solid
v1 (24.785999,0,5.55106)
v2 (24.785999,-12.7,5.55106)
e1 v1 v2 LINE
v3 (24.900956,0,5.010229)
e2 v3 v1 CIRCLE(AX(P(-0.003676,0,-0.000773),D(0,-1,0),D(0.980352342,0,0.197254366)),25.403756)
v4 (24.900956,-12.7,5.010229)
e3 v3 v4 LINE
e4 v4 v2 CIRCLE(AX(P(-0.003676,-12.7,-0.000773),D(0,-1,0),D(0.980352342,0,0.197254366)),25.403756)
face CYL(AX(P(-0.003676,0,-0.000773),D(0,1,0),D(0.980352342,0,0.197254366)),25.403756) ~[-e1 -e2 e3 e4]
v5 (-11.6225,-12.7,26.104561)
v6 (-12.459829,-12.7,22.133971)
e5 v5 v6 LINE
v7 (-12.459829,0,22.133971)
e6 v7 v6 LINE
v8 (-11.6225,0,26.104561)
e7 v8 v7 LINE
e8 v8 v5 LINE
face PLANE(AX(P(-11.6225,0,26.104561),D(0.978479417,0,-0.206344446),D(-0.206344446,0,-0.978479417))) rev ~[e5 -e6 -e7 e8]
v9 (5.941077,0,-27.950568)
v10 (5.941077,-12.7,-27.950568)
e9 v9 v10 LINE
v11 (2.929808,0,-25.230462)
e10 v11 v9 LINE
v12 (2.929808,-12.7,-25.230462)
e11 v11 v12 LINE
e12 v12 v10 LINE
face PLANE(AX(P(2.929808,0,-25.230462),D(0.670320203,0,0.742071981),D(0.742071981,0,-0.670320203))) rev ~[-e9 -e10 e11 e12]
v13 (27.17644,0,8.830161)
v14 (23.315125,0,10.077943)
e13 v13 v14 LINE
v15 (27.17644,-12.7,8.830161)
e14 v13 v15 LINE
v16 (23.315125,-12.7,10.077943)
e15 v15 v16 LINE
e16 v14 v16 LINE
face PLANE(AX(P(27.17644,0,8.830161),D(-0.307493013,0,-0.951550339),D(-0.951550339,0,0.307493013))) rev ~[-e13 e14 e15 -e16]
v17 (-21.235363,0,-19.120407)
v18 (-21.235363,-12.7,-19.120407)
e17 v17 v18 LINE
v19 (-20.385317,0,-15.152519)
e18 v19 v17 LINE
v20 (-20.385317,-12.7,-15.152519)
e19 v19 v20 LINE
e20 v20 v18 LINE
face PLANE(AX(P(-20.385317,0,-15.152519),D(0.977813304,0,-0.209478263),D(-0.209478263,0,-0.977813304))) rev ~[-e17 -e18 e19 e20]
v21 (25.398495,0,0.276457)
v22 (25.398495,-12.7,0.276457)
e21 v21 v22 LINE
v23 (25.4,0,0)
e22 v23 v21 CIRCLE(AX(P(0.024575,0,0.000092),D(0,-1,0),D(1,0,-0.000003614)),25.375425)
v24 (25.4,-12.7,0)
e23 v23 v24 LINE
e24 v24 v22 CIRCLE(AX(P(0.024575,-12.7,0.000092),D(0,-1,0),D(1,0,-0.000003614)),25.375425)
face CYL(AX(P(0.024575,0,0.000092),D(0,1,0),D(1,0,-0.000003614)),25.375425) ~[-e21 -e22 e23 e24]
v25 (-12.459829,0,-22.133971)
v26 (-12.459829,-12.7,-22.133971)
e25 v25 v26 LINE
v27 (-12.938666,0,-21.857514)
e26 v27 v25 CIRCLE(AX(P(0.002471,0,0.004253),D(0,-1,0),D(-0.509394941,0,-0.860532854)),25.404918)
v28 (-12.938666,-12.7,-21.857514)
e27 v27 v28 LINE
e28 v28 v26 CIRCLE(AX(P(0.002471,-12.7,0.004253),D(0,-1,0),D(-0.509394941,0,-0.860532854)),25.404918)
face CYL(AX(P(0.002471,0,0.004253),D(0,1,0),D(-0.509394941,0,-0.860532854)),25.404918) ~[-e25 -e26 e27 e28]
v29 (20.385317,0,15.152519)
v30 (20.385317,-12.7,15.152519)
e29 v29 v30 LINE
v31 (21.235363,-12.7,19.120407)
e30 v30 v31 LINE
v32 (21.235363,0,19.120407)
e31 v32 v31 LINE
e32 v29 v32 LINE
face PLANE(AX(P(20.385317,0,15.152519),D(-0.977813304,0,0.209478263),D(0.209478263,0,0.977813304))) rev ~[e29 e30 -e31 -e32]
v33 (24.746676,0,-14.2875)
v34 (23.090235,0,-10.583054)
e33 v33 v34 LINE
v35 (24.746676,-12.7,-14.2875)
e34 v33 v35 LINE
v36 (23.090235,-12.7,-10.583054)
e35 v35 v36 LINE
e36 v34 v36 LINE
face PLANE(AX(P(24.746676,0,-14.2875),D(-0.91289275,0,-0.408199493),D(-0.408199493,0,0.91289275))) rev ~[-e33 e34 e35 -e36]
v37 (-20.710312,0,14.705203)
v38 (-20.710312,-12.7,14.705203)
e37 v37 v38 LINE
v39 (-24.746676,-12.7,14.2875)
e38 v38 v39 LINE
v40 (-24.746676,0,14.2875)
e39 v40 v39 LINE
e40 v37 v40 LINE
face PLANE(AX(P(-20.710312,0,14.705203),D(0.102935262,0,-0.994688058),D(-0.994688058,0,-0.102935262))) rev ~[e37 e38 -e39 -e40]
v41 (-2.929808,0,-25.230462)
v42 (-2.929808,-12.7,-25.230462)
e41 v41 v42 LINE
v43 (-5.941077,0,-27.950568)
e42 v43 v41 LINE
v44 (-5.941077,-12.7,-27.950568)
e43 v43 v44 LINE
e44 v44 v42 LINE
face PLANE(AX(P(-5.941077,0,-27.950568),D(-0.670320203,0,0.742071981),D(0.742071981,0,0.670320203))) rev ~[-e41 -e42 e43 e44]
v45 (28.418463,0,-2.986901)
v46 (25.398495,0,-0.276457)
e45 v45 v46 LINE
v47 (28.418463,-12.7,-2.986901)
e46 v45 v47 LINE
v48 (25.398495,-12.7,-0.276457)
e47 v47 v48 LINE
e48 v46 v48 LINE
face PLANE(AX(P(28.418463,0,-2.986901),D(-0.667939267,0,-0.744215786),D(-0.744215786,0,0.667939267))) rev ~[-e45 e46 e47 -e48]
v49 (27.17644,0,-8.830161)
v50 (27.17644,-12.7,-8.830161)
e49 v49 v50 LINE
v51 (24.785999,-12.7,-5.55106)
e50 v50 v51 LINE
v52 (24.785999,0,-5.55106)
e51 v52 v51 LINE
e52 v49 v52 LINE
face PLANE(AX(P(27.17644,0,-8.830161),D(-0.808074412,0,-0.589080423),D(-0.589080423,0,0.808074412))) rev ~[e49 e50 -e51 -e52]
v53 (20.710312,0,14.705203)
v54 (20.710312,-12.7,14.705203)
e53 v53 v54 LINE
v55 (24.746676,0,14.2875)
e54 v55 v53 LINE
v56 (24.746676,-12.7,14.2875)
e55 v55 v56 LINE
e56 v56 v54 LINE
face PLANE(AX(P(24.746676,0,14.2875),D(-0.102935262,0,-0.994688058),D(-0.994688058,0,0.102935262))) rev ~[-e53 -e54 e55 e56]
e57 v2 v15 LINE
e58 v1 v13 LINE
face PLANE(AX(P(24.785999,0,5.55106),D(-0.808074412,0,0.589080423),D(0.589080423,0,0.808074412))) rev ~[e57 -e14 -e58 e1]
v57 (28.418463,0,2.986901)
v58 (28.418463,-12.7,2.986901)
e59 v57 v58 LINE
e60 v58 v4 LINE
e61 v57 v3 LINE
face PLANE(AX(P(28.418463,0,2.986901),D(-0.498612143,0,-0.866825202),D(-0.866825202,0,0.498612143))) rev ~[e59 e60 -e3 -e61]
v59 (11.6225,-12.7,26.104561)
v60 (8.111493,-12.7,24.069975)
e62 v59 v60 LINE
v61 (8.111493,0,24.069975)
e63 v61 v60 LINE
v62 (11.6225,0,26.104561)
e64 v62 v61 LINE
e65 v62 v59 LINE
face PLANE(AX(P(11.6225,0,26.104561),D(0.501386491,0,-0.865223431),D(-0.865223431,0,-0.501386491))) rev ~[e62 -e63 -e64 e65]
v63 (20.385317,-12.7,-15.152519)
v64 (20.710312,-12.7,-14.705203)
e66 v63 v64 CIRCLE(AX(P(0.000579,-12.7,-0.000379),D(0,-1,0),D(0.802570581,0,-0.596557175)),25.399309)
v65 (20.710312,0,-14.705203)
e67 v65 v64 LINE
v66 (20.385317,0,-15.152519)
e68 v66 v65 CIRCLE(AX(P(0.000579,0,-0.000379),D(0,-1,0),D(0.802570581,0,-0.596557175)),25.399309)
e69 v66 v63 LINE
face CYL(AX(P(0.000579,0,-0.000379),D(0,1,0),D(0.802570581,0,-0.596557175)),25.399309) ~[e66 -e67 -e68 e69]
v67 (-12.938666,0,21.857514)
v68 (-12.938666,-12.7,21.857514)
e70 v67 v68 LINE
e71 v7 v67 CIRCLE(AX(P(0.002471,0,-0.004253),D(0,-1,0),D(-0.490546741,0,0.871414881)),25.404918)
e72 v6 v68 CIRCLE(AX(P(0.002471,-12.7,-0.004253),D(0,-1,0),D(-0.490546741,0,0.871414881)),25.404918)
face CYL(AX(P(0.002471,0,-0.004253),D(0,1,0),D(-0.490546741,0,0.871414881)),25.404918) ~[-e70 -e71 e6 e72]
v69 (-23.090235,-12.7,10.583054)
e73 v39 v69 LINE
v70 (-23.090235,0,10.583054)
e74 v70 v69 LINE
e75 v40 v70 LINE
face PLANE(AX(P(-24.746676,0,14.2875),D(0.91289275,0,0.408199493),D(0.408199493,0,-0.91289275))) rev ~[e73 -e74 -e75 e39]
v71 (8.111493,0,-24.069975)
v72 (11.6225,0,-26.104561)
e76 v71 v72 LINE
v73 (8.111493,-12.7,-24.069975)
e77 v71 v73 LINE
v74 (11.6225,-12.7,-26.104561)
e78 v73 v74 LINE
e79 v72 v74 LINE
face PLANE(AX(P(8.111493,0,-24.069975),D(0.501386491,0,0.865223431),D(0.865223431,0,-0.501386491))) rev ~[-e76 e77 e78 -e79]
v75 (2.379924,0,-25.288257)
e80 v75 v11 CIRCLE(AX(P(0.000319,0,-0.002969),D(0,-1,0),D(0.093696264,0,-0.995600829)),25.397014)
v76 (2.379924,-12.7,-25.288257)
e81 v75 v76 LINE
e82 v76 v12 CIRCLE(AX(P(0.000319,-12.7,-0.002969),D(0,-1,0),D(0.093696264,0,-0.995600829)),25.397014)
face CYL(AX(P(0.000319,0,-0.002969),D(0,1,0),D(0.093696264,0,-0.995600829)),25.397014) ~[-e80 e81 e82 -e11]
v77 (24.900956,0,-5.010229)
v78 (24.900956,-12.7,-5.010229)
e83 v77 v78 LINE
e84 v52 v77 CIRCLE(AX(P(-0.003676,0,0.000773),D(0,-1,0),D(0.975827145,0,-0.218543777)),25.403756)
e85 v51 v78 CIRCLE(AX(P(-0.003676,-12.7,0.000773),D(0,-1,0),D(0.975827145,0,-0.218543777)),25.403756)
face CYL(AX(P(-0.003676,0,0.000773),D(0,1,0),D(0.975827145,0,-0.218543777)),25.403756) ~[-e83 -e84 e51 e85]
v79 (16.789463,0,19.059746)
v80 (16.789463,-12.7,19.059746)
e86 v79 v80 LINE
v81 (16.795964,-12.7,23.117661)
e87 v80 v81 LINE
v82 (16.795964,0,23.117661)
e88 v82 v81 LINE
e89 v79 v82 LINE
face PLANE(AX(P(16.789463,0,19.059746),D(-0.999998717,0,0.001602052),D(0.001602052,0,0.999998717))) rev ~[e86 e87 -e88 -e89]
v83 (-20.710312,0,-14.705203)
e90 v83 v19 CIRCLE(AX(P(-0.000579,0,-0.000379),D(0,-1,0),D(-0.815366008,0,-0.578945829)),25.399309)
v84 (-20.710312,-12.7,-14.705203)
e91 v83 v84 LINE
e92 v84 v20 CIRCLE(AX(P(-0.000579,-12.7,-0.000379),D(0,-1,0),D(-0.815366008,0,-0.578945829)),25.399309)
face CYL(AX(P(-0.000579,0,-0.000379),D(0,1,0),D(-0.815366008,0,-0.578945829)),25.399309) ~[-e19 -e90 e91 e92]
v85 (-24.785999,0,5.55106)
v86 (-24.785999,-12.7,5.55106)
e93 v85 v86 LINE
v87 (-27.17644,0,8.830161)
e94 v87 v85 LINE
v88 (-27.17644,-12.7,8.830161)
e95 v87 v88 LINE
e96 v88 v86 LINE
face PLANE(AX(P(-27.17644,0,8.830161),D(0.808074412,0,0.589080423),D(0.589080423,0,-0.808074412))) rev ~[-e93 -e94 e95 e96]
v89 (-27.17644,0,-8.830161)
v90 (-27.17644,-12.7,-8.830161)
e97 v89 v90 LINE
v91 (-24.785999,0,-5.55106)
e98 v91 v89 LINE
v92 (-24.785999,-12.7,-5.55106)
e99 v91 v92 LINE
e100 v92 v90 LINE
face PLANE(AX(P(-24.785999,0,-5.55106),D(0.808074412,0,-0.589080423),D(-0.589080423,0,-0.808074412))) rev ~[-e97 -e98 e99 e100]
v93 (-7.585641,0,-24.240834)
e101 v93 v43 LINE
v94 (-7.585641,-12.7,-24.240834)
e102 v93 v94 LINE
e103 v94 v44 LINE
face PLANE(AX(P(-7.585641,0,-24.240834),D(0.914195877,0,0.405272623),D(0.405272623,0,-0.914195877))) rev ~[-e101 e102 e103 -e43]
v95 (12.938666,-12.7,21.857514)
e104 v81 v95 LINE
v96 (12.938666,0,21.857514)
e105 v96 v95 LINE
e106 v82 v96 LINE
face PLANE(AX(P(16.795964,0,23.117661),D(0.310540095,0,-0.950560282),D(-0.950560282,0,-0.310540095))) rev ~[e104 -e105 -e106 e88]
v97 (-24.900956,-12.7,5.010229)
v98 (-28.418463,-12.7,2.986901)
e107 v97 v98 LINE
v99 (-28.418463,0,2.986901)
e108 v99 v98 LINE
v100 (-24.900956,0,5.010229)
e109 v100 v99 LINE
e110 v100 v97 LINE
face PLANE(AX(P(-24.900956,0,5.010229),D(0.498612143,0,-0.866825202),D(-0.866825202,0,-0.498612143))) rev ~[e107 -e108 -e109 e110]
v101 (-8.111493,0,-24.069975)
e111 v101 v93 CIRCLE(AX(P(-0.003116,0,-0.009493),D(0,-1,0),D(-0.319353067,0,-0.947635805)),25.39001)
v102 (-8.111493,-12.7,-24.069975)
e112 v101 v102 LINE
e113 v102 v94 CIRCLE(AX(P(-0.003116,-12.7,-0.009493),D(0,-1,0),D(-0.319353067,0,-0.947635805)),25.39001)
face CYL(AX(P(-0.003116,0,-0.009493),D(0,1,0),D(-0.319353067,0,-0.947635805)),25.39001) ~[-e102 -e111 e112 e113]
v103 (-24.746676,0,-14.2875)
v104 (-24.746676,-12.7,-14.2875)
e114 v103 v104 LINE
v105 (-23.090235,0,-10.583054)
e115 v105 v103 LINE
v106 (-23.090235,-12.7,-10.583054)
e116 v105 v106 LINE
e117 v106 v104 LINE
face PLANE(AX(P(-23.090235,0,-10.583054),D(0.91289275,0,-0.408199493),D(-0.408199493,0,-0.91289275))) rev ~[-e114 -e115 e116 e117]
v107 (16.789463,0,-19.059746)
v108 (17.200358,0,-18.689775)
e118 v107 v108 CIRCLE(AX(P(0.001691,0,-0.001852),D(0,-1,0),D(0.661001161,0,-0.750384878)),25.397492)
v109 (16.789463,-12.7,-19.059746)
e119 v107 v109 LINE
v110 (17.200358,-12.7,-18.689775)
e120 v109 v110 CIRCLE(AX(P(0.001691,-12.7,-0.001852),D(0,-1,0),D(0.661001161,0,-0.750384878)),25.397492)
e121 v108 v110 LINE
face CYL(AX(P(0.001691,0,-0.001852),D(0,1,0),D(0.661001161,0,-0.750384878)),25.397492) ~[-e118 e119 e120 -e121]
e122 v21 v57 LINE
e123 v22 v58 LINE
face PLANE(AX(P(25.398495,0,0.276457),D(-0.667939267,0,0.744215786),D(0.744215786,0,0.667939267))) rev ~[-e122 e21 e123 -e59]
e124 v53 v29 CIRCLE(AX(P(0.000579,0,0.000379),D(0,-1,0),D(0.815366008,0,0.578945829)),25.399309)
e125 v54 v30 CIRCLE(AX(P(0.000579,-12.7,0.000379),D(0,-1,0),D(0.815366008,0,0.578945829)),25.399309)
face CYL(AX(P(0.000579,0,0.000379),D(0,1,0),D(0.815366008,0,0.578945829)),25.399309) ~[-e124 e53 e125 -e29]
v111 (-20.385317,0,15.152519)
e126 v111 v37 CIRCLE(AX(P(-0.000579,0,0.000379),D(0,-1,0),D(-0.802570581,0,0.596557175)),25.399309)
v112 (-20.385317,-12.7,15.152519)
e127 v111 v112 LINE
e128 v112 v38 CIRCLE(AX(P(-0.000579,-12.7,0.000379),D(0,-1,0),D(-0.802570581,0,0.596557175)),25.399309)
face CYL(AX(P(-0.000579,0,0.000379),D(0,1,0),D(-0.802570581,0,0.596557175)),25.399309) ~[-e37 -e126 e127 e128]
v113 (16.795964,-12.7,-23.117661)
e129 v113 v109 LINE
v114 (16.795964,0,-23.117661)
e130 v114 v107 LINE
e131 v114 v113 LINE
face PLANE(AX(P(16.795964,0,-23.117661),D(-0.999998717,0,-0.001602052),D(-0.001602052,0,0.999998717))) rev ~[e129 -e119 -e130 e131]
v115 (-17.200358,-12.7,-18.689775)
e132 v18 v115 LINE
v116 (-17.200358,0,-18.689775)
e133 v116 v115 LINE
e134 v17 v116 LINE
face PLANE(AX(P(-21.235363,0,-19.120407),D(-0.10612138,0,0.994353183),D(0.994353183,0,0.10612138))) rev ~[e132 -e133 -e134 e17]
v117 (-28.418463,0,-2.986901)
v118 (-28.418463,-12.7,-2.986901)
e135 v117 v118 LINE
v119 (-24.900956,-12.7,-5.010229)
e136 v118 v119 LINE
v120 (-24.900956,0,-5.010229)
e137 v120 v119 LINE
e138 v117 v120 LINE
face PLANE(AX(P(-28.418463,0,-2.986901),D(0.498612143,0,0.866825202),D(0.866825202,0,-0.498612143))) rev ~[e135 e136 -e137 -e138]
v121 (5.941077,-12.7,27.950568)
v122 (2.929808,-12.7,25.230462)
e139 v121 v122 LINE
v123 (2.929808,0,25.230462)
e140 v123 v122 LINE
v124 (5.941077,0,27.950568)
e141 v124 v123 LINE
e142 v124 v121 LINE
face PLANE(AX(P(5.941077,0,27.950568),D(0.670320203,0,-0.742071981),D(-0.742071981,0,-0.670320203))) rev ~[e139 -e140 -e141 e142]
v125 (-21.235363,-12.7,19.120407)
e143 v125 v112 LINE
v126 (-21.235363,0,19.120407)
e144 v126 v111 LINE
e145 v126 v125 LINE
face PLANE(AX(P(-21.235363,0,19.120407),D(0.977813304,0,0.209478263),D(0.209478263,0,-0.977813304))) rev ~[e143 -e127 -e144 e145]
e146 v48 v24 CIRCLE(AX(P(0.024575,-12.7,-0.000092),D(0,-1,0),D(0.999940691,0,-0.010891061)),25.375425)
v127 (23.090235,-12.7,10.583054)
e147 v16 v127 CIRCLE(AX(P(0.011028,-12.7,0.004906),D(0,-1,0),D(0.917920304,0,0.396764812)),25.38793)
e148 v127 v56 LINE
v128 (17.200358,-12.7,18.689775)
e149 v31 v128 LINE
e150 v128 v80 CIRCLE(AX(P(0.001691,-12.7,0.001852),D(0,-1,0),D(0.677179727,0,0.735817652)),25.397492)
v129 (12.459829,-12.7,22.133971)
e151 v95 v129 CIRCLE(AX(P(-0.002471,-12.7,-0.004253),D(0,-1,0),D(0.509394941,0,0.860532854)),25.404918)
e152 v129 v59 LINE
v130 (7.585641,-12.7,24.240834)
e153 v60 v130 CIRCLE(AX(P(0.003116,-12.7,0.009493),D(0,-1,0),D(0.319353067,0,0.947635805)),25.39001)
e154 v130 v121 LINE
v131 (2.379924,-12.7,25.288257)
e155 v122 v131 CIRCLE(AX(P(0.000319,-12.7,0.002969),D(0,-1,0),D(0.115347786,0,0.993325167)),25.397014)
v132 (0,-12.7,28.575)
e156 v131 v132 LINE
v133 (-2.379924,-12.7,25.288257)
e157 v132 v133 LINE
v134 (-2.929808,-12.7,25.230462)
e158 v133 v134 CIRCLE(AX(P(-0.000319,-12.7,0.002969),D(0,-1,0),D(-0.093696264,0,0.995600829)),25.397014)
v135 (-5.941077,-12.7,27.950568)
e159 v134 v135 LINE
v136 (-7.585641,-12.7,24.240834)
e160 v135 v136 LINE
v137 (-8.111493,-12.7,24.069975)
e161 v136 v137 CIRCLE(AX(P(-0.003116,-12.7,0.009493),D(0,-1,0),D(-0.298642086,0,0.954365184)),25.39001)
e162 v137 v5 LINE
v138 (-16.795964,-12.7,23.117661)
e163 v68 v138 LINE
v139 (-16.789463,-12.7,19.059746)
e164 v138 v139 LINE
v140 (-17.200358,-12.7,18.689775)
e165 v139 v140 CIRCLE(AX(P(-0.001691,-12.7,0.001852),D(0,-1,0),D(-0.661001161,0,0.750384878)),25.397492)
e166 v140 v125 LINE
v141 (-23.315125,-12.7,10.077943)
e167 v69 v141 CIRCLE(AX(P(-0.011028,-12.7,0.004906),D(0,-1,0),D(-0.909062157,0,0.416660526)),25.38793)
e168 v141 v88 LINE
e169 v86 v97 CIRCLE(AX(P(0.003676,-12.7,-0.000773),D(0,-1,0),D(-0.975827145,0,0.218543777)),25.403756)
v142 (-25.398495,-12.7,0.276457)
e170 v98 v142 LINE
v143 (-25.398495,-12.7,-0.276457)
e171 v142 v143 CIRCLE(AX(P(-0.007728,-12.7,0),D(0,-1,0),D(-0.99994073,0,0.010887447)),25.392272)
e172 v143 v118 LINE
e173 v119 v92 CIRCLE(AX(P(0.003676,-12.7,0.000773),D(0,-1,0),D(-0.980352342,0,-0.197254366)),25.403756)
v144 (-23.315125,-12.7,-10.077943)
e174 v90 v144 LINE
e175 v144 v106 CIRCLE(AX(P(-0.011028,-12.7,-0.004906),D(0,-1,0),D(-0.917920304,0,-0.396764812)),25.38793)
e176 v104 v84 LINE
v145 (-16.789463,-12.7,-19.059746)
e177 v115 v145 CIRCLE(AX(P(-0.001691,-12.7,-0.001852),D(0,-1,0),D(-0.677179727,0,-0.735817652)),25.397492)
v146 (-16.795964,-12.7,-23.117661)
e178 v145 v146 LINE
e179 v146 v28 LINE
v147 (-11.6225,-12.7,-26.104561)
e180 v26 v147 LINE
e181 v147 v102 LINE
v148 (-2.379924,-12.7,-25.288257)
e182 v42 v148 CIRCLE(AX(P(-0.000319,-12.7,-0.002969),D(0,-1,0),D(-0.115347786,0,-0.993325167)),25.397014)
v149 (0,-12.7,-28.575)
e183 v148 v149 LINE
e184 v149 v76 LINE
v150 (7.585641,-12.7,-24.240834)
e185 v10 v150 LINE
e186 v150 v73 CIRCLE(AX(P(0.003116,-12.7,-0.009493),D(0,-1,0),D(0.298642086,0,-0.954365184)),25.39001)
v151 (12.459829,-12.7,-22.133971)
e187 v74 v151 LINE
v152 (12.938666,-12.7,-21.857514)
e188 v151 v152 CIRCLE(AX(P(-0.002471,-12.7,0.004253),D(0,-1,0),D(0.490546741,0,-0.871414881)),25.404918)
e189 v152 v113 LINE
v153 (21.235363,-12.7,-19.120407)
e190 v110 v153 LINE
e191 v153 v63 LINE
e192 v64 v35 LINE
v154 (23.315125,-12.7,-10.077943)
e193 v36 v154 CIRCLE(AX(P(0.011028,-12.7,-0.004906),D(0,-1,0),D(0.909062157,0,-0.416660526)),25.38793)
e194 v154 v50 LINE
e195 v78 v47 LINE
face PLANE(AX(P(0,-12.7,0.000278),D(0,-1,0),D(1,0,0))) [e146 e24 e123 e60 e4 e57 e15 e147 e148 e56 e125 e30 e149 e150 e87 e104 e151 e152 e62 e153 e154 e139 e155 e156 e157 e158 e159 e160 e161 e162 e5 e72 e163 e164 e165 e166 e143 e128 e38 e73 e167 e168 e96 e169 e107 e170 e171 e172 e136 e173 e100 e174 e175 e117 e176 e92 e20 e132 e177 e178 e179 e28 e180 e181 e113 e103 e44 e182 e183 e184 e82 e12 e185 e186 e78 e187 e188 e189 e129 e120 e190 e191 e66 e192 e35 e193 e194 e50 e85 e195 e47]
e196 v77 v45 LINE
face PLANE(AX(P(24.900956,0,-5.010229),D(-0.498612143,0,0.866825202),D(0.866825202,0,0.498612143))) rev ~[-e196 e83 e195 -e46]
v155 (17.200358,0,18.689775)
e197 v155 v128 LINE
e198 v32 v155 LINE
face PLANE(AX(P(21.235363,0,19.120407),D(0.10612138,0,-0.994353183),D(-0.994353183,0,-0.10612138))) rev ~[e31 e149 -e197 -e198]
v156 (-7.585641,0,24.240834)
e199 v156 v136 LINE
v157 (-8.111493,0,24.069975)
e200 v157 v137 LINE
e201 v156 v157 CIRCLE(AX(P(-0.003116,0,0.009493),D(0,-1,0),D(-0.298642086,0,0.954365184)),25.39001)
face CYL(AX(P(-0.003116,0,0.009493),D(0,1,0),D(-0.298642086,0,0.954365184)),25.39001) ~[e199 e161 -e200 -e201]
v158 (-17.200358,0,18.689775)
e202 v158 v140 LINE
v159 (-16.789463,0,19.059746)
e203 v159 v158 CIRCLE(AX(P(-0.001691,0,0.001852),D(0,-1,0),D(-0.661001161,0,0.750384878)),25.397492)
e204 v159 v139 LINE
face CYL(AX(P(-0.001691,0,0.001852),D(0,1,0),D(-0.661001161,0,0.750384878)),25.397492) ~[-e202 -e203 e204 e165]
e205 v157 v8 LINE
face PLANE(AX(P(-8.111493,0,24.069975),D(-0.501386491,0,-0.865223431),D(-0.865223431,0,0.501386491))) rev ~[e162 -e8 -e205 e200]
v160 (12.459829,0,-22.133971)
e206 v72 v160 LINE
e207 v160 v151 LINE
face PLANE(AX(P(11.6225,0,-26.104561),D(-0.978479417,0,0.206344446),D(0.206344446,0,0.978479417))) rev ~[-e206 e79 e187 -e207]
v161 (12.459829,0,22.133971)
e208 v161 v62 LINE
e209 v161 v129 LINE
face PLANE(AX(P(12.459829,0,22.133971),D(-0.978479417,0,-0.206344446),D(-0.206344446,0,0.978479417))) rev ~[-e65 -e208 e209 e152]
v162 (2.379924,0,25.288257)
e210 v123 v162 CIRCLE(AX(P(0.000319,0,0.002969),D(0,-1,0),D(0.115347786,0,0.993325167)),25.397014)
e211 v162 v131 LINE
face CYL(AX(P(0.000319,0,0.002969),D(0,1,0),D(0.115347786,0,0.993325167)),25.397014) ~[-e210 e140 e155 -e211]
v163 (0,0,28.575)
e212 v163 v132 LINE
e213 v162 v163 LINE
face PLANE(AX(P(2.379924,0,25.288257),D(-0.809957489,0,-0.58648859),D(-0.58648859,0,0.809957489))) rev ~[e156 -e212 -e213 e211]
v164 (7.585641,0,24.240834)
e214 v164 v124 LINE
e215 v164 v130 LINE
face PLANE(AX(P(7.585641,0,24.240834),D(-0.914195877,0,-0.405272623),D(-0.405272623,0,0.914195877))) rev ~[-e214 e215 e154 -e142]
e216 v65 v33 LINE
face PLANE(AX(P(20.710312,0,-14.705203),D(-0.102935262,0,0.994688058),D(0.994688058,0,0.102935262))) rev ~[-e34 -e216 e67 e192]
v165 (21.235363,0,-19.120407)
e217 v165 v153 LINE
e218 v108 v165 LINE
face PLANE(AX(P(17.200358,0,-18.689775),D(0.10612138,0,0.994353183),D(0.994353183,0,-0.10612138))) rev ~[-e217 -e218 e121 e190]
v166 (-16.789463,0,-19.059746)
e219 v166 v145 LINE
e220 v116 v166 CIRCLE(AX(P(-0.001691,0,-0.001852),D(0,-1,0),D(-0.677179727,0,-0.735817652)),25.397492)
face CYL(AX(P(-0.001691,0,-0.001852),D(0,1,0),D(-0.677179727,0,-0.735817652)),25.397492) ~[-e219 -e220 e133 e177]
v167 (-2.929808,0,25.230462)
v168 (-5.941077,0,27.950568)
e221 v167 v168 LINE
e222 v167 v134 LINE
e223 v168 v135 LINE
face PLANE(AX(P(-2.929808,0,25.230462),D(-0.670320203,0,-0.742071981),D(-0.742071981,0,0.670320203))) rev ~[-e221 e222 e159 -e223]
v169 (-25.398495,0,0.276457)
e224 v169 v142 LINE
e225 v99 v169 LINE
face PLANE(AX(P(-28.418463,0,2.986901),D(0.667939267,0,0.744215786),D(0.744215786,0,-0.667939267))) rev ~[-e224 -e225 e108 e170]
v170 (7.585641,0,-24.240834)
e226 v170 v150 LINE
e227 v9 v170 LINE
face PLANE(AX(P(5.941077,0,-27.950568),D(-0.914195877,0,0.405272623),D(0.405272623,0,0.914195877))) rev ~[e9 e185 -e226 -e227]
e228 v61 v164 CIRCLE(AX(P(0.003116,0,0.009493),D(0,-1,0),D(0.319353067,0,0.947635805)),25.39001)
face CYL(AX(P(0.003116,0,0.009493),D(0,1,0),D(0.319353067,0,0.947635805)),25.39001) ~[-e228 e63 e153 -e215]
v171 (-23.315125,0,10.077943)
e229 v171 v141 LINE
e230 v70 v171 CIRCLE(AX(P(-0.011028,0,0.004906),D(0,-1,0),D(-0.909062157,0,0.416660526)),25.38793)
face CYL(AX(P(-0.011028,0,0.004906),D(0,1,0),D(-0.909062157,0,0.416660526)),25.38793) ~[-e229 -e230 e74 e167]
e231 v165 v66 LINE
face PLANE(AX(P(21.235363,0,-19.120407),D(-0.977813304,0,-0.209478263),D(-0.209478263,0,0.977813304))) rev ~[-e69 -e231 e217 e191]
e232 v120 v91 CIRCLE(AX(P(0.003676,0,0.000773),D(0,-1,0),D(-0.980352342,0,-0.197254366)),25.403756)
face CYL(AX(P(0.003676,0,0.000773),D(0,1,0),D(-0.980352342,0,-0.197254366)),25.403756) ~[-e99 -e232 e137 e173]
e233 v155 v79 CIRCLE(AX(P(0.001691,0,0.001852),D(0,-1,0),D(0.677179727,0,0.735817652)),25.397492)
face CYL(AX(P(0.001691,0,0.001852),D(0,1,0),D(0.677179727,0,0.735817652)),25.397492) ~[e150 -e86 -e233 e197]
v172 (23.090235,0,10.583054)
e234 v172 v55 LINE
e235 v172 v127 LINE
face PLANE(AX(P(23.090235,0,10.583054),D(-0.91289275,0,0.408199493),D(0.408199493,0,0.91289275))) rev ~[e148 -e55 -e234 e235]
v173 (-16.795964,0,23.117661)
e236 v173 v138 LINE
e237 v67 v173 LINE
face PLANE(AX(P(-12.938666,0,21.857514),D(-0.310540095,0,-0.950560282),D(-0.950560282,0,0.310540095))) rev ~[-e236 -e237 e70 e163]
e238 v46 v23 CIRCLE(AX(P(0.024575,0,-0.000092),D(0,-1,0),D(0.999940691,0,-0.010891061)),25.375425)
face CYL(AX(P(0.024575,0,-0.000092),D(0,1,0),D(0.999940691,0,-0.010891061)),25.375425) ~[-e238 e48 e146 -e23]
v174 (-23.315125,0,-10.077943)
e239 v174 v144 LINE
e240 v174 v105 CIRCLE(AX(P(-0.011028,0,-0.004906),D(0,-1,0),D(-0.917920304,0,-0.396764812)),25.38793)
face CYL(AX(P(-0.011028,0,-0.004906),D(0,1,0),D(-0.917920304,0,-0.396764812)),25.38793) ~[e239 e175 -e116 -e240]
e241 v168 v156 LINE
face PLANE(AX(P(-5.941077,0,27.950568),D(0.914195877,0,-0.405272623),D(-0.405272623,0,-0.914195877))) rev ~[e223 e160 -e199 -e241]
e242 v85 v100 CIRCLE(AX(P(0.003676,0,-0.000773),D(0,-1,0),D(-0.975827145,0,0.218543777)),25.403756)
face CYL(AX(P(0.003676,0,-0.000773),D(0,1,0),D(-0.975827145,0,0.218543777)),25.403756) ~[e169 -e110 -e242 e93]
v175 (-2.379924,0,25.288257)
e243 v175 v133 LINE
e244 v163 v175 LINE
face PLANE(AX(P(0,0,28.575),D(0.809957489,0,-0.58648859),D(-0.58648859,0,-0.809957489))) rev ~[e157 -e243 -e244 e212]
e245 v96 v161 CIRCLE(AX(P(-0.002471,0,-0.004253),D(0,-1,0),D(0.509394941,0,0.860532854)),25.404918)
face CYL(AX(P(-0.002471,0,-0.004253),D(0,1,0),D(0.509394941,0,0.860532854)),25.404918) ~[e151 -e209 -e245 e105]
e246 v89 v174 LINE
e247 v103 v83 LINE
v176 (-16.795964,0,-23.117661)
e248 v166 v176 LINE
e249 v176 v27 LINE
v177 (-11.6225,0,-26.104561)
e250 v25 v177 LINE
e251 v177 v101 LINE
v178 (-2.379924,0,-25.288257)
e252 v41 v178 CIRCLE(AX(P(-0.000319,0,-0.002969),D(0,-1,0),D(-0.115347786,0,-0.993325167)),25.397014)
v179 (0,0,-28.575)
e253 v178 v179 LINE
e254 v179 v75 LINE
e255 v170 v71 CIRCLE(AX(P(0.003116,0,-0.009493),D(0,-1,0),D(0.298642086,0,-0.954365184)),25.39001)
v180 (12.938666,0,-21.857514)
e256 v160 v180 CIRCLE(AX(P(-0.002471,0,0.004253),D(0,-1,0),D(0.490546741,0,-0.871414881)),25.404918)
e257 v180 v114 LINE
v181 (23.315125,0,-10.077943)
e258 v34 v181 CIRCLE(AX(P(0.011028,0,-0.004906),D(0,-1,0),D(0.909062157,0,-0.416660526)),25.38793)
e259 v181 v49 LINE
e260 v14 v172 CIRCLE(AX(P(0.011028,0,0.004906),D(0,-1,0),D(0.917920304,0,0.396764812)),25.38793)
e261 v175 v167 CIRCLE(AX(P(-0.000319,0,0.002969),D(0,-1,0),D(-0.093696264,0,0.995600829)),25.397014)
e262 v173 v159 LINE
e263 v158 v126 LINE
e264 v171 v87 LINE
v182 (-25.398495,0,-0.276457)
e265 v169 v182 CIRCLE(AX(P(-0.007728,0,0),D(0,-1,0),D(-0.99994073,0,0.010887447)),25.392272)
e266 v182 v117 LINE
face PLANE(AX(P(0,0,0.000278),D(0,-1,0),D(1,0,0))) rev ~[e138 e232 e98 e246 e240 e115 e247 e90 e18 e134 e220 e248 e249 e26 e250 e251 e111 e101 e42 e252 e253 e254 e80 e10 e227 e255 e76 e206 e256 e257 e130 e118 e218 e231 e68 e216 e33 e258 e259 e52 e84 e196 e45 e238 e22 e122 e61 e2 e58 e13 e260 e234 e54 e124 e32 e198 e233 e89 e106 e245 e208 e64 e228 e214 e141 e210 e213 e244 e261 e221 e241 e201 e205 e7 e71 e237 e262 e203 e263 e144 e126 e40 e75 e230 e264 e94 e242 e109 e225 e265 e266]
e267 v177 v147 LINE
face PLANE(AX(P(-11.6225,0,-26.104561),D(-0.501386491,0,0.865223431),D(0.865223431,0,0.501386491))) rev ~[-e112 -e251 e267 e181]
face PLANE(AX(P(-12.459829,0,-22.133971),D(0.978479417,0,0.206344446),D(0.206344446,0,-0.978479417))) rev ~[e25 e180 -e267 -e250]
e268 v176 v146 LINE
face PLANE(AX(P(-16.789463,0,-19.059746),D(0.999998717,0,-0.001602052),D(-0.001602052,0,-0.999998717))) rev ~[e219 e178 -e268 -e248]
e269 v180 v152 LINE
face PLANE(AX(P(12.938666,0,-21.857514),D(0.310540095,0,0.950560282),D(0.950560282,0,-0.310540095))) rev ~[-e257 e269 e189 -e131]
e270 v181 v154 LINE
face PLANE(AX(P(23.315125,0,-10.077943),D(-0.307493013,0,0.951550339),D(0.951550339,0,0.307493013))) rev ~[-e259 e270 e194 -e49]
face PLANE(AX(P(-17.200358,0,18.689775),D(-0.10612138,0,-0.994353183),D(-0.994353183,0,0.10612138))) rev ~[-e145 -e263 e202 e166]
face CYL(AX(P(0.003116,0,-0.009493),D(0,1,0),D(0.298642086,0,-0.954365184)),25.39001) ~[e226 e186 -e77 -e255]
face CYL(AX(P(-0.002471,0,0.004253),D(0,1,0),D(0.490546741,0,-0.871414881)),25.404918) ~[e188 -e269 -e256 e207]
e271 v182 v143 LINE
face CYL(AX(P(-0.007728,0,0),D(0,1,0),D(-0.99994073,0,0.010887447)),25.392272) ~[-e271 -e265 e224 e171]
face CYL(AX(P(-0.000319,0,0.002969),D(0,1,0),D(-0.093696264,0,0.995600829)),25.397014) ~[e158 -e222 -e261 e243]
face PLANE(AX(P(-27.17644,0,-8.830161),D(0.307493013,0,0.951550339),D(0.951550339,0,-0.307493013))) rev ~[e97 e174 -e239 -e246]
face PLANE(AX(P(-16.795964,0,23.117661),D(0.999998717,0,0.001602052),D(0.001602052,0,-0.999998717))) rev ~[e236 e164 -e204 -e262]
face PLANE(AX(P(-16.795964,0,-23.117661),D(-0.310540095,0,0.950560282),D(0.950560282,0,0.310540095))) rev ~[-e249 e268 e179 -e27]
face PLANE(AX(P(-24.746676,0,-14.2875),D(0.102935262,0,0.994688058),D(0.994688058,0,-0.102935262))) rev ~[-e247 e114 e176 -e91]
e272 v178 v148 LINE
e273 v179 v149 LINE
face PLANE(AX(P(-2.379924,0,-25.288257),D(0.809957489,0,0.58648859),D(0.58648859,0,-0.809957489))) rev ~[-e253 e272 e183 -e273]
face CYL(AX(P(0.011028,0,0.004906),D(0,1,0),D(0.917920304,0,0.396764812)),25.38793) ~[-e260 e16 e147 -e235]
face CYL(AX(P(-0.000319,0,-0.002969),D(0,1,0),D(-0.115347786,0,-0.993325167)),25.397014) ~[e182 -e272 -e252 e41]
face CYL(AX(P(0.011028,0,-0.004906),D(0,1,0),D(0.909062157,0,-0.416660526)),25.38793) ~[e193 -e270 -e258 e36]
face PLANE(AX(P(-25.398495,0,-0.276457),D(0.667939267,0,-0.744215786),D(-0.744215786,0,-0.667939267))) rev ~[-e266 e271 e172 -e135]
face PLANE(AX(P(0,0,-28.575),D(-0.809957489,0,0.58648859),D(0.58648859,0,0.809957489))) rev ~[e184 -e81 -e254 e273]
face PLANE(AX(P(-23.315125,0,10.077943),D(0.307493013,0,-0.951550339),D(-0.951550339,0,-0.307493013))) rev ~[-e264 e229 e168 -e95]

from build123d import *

# Parameters (mm, degrees)
F1_DEPTH = 12.7


with BuildPart() as f1:
    # F0 (on Front) → F1 (new body)
    with BuildSketch(Plane.XZ):
        with BuildLine():
            ThreePointArc((25.398495, -0.276457), (25.399624, -0.13823), (25.4, 0))
            ThreePointArc((25.4, 0), (25.399624, 0.13823), (25.398495, 0.276457))
            ThreePointArc((25.398495, 0.276457), (25.260856, 2.655023), (24.900956, 5.010229))
            ThreePointArc((24.900956, 5.010229), (24.844949, 5.280957), (24.785999, 5.55106))
            ThreePointArc((24.785999, 5.55106), (24.156836, 7.849032), (23.315125, 10.077943))
            ThreePointArc((23.315125, 10.077943), (23.204055, 10.331111), (23.090235, 10.583054))
            ThreePointArc((23.090235, 10.583054), (21.997045, 12.7), (20.710312, 14.705203))
            ThreePointArc((20.710312, 14.705203), (20.549032, 14.929745), (20.385317, 15.152519))
            ThreePointArc((20.385317, 15.152519), (18.875879, 16.995917), (17.200358, 18.689775))
            ThreePointArc((17.200358, 18.689775), (16.995917, 18.875879), (16.789463, 19.059746))
            ThreePointArc((16.789463, 19.059746), (14.929745, 20.549032), (12.938666, 21.857514))
            ThreePointArc((12.938666, 21.857514), (12.7, 21.997045), (12.459829, 22.133971))
            ThreePointArc((12.459829, 22.133971), (10.331111, 23.204055), (8.111493, 24.069975))
            ThreePointArc((8.111493, 24.069975), (7.849032, 24.156836), (7.585641, 24.240834))
            ThreePointArc((7.585641, 24.240834), (5.280957, 24.844949), (2.929808, 25.230462))
            ThreePointArc((2.929808, 25.230462), (2.655023, 25.260856), (2.379924, 25.288257))
            ThreePointArc((2.379924, 25.288257), (1.191273, 25.372049), (0, 25.4))
            ThreePointArc((0, 25.4), (-1.191273, 25.372049), (-2.379924, 25.288257))
            ThreePointArc((-2.379924, 25.288257), (-2.655023, 25.260856), (-2.929808, 25.230462))
            ThreePointArc((-2.929808, 25.230462), (-5.280957, 24.844949), (-7.585641, 24.240834))
            ThreePointArc((-7.585641, 24.240834), (-7.849032, 24.156836), (-8.111493, 24.069975))
            ThreePointArc((-8.111493, 24.069975), (-10.331111, 23.204055), (-12.459829, 22.133971))
            ThreePointArc((-12.459829, 22.133971), (-12.7, 21.997045), (-12.938666, 21.857514))
            ThreePointArc((-12.938666, 21.857514), (-14.929745, 20.549032), (-16.789463, 19.059746))
            ThreePointArc((-16.789463, 19.059746), (-16.995917, 18.875879), (-17.200358, 18.689775))
            ThreePointArc((-17.200358, 18.689775), (-18.875879, 16.995917), (-20.385317, 15.152519))
            ThreePointArc((-20.385317, 15.152519), (-20.549032, 14.929745), (-20.710312, 14.705203))
            ThreePointArc((-20.710312, 14.705203), (-21.997045, 12.7), (-23.090235, 10.583054))
            ThreePointArc((-23.090235, 10.583054), (-23.204055, 10.331111), (-23.315125, 10.077943))
            ThreePointArc((-23.315125, 10.077943), (-24.156836, 7.849032), (-24.785999, 5.55106))
            ThreePointArc((-24.785999, 5.55106), (-24.844949, 5.280957), (-24.900956, 5.010229))
            ThreePointArc((-24.900956, 5.010229), (-25.260856, 2.655023), (-25.398495, 0.276457))
            ThreePointArc((-25.398495, 0.276457), (-25.4, 0), (-25.398495, -0.276457))
            ThreePointArc((-25.398495, -0.276457), (-25.260856, -2.655023), (-24.900956, -5.010229))
            ThreePointArc((-24.900956, -5.010229), (-24.844949, -5.280957), (-24.785999, -5.55106))
            ThreePointArc((-24.785999, -5.55106), (-24.156836, -7.849032), (-23.315125, -10.077943))
            ThreePointArc((-23.315125, -10.077943), (-23.204055, -10.331111), (-23.090235, -10.583054))
            ThreePointArc((-23.090235, -10.583054), (-21.997045, -12.7), (-20.710312, -14.705203))
            ThreePointArc((-20.710312, -14.705203), (-20.549032, -14.929745), (-20.385317, -15.152519))
            ThreePointArc((-20.385317, -15.152519), (-18.875879, -16.995917), (-17.200358, -18.689775))
            ThreePointArc((-17.200358, -18.689775), (-16.995917, -18.875879), (-16.789463, -19.059746))
            ThreePointArc((-16.789463, -19.059746), (-14.929745, -20.549032), (-12.938666, -21.857514))
            ThreePointArc((-12.938666, -21.857514), (-12.7, -21.997045), (-12.459829, -22.133971))
            ThreePointArc((-12.459829, -22.133971), (-10.331111, -23.204055), (-8.111493, -24.069975))
            ThreePointArc((-8.111493, -24.069975), (-7.849032, -24.156836), (-7.585641, -24.240834))
            ThreePointArc((-7.585641, -24.240834), (-5.280957, -24.844949), (-2.929808, -25.230462))
            ThreePointArc((-2.929808, -25.230462), (-2.655023, -25.260856), (-2.379924, -25.288257))
            ThreePointArc((-2.379924, -25.288257), (0, -25.4), (2.379924, -25.288257))
            ThreePointArc((2.379924, -25.288257), (2.655023, -25.260856), (2.929808, -25.230462))
            ThreePointArc((2.929808, -25.230462), (5.280957, -24.844949), (7.585641, -24.240834))
            ThreePointArc((7.585641, -24.240834), (7.849032, -24.156836), (8.111493, -24.069975))
            ThreePointArc((8.111493, -24.069975), (10.331111, -23.204055), (12.459829, -22.133971))
            ThreePointArc((12.459829, -22.133971), (12.7, -21.997045), (12.938666, -21.857514))
            ThreePointArc((12.938666, -21.857514), (14.929745, -20.549032), (16.789463, -19.059746))
            ThreePointArc((16.789463, -19.059746), (16.995917, -18.875879), (17.200358, -18.689775))
            ThreePointArc((17.200358, -18.689775), (18.875879, -16.995917), (20.385317, -15.152519))
            ThreePointArc((20.385317, -15.152519), (20.549032, -14.929745), (20.710312, -14.705203))
            ThreePointArc((20.710312, -14.705203), (21.997045, -12.7), (23.090235, -10.583054))
            ThreePointArc((23.090235, -10.583054), (23.204055, -10.331111), (23.315125, -10.077943))
            ThreePointArc((23.315125, -10.077943), (24.156836, -7.849032), (24.785999, -5.55106))
            ThreePointArc((24.785999, -5.55106), (24.844949, -5.280957), (24.900956, -5.010229))
            ThreePointArc((24.900956, -5.010229), (25.260856, -2.655023), (25.398495, -0.276457))
        make_face()
        with BuildLine():
            ThreePointArc((24.900956, 5.010229), (25.260856, 2.655023), (25.398495, 0.276457))
            Line((25.398495, 0.276457), (28.418463, 2.986901))
            Line((28.418463, 2.986901), (24.900956, 5.010229))
        make_face()
        with BuildLine():
            Line((28.418463, -2.986901), (25.398495, -0.276457))
            ThreePointArc((25.398495, -0.276457), (25.260856, -2.655023), (24.900956, -5.010229))
            Line((24.900956, -5.010229), (28.418463, -2.986901))
        make_face()
        with BuildLine():
            ThreePointArc((23.315125, 10.077943), (24.156836, 7.849032), (24.785999, 5.55106))
            Line((24.785999, 5.55106), (27.17644, 8.830161))
            Line((27.17644, 8.830161), (23.315125, 10.077943))
        make_face()
        with BuildLine():
            Line((27.17644, -8.830161), (24.785999, -5.55106))
            ThreePointArc((24.785999, -5.55106), (24.156836, -7.849032), (23.315125, -10.077943))
            Line((23.315125, -10.077943), (27.17644, -8.830161))
        make_face()
        with BuildLine():
            ThreePointArc((20.710312, 14.705203), (21.997045, 12.7), (23.090235, 10.583054))
            Line((23.090235, 10.583054), (24.746676, 14.2875))
            Line((24.746676, 14.2875), (20.710312, 14.705203))
        make_face()
        with BuildLine():
            Line((24.746676, -14.2875), (23.090235, -10.583054))
            ThreePointArc((23.090235, -10.583054), (21.997045, -12.7), (20.710312, -14.705203))
            Line((20.710312, -14.705203), (24.746676, -14.2875))
        make_face()
        with BuildLine():
            ThreePointArc((17.200358, 18.689775), (18.875879, 16.995917), (20.385317, 15.152519))
            Line((20.385317, 15.152519), (21.235363, 19.120407))
            Line((21.235363, 19.120407), (17.200358, 18.689775))
        make_face()
        with BuildLine():
            Line((21.235363, -19.120407), (20.385317, -15.152519))
            ThreePointArc((20.385317, -15.152519), (18.875879, -16.995917), (17.200358, -18.689775))
            Line((17.200358, -18.689775), (21.235363, -19.120407))
        make_face()
        with BuildLine():
            ThreePointArc((12.938666, 21.857514), (14.929745, 20.549032), (16.789463, 19.059746))
            Line((16.789463, 19.059746), (16.795964, 23.117661))
            Line((16.795964, 23.117661), (12.938666, 21.857514))
        make_face()
        with BuildLine():
            Line((16.795964, -23.117661), (16.789463, -19.059746))
            ThreePointArc((16.789463, -19.059746), (14.929745, -20.549032), (12.938666, -21.857514))
            Line((12.938666, -21.857514), (16.795964, -23.117661))
        make_face()
        with BuildLine():
            ThreePointArc((8.111493, 24.069975), (10.331111, 23.204055), (12.459829, 22.133971))
            Line((12.459829, 22.133971), (11.6225, 26.104561))
            Line((11.6225, 26.104561), (8.111493, 24.069975))
        make_face()
        with BuildLine():
            Line((11.6225, -26.104561), (12.459829, -22.133971))
            ThreePointArc((12.459829, -22.133971), (10.331111, -23.204055), (8.111493, -24.069975))
            Line((8.111493, -24.069975), (11.6225, -26.104561))
        make_face()
        with BuildLine():
            ThreePointArc((2.929808, 25.230462), (5.280957, 24.844949), (7.585641, 24.240834))
            Line((7.585641, 24.240834), (5.941077, 27.950568))
            Line((5.941077, 27.950568), (2.929808, 25.230462))
        make_face()
        with BuildLine():
            Line((5.941077, -27.950568), (7.585641, -24.240834))
            ThreePointArc((7.585641, -24.240834), (5.280957, -24.844949), (2.929808, -25.230462))
            Line((2.929808, -25.230462), (5.941077, -27.950568))
        make_face()
        with BuildLine():
            ThreePointArc((0, 25.4), (1.191273, 25.372049), (2.379924, 25.288257))
            Line((2.379924, 25.288257), (0, 28.575))
            Line((0, 28.575), (0, 25.4))
        make_face()
        with BuildLine():
            Line((0, -28.575), (2.379924, -25.288257))
            ThreePointArc((2.379924, -25.288257), (0, -25.4), (-2.379924, -25.288257))
            Line((-2.379924, -25.288257), (0, -28.575))
        make_face()
        with BuildLine():
            ThreePointArc((-2.379924, 25.288257), (-1.191273, 25.372049), (0, 25.4))
            Line((0, 25.4), (0, 28.575))
            Line((0, 28.575), (-2.379924, 25.288257))
        make_face()
        with BuildLine():
            Line((-5.941077, -27.950568), (-2.929808, -25.230462))
            ThreePointArc((-2.929808, -25.230462), (-5.280957, -24.844949), (-7.585641, -24.240834))
            Line((-7.585641, -24.240834), (-5.941077, -27.950568))
        make_face()
        with BuildLine():
            ThreePointArc((-7.585641, 24.240834), (-5.280957, 24.844949), (-2.929808, 25.230462))
            Line((-2.929808, 25.230462), (-5.941077, 27.950568))
            Line((-5.941077, 27.950568), (-7.585641, 24.240834))
        make_face()
        with BuildLine():
            Line((-11.6225, -26.104561), (-8.111493, -24.069975))
            ThreePointArc((-8.111493, -24.069975), (-10.331111, -23.204055), (-12.459829, -22.133971))
            Line((-12.459829, -22.133971), (-11.6225, -26.104561))
        make_face()
        with BuildLine():
            ThreePointArc((-12.459829, 22.133971), (-10.331111, 23.204055), (-8.111493, 24.069975))
            Line((-8.111493, 24.069975), (-11.6225, 26.104561))
            Line((-11.6225, 26.104561), (-12.459829, 22.133971))
        make_face()
        with BuildLine():
            Line((-16.795964, -23.117661), (-12.938666, -21.857514))
            ThreePointArc((-12.938666, -21.857514), (-14.929745, -20.549032), (-16.789463, -19.059746))
            Line((-16.789463, -19.059746), (-16.795964, -23.117661))
        make_face()
        with BuildLine():
            ThreePointArc((-16.789463, 19.059746), (-14.929745, 20.549032), (-12.938666, 21.857514))
            Line((-12.938666, 21.857514), (-16.795964, 23.117661))
            Line((-16.795964, 23.117661), (-16.789463, 19.059746))
        make_face()
        with BuildLine():
            Line((-21.235363, -19.120407), (-17.200358, -18.689775))
            ThreePointArc((-17.200358, -18.689775), (-18.875879, -16.995917), (-20.385317, -15.152519))
            Line((-20.385317, -15.152519), (-21.235363, -19.120407))
        make_face()
        with BuildLine():
            ThreePointArc((-20.385317, 15.152519), (-18.875879, 16.995917), (-17.200358, 18.689775))
            Line((-17.200358, 18.689775), (-21.235363, 19.120407))
            Line((-21.235363, 19.120407), (-20.385317, 15.152519))
        make_face()
        with BuildLine():
            Line((-24.746676, -14.2875), (-20.710312, -14.705203))
            ThreePointArc((-20.710312, -14.705203), (-21.997045, -12.7), (-23.090235, -10.583054))
            Line((-23.090235, -10.583054), (-24.746676, -14.2875))
        make_face()
        with BuildLine():
            ThreePointArc((-23.090235, 10.583054), (-21.997045, 12.7), (-20.710312, 14.705203))
            Line((-20.710312, 14.705203), (-24.746676, 14.2875))
            Line((-24.746676, 14.2875), (-23.090235, 10.583054))
        make_face()
        with BuildLine():
            Line((-27.17644, -8.830161), (-23.315125, -10.077943))
            ThreePointArc((-23.315125, -10.077943), (-24.156836, -7.849032), (-24.785999, -5.55106))
            Line((-24.785999, -5.55106), (-27.17644, -8.830161))
        make_face()
        with BuildLine():
            ThreePointArc((-24.785999, 5.55106), (-24.156836, 7.849032), (-23.315125, 10.077943))
            Line((-23.315125, 10.077943), (-27.17644, 8.830161))
            Line((-27.17644, 8.830161), (-24.785999, 5.55106))
        make_face()
        with BuildLine():
            Line((-28.418463, -2.986901), (-24.900956, -5.010229))
            ThreePointArc((-24.900956, -5.010229), (-25.260856, -2.655023), (-25.398495, -0.276457))
            Line((-25.398495, -0.276457), (-28.418463, -2.986901))
        make_face()
        with BuildLine():
            ThreePointArc((-25.398495, 0.276457), (-25.260856, 2.655023), (-24.900956, 5.010229))
            Line((-24.900956, 5.010229), (-28.418463, 2.986901))
            Line((-28.418463, 2.986901), (-25.398495, 0.276457))
        make_face()
    extrude(amount=F1_DEPTH)


solid = f1.part
